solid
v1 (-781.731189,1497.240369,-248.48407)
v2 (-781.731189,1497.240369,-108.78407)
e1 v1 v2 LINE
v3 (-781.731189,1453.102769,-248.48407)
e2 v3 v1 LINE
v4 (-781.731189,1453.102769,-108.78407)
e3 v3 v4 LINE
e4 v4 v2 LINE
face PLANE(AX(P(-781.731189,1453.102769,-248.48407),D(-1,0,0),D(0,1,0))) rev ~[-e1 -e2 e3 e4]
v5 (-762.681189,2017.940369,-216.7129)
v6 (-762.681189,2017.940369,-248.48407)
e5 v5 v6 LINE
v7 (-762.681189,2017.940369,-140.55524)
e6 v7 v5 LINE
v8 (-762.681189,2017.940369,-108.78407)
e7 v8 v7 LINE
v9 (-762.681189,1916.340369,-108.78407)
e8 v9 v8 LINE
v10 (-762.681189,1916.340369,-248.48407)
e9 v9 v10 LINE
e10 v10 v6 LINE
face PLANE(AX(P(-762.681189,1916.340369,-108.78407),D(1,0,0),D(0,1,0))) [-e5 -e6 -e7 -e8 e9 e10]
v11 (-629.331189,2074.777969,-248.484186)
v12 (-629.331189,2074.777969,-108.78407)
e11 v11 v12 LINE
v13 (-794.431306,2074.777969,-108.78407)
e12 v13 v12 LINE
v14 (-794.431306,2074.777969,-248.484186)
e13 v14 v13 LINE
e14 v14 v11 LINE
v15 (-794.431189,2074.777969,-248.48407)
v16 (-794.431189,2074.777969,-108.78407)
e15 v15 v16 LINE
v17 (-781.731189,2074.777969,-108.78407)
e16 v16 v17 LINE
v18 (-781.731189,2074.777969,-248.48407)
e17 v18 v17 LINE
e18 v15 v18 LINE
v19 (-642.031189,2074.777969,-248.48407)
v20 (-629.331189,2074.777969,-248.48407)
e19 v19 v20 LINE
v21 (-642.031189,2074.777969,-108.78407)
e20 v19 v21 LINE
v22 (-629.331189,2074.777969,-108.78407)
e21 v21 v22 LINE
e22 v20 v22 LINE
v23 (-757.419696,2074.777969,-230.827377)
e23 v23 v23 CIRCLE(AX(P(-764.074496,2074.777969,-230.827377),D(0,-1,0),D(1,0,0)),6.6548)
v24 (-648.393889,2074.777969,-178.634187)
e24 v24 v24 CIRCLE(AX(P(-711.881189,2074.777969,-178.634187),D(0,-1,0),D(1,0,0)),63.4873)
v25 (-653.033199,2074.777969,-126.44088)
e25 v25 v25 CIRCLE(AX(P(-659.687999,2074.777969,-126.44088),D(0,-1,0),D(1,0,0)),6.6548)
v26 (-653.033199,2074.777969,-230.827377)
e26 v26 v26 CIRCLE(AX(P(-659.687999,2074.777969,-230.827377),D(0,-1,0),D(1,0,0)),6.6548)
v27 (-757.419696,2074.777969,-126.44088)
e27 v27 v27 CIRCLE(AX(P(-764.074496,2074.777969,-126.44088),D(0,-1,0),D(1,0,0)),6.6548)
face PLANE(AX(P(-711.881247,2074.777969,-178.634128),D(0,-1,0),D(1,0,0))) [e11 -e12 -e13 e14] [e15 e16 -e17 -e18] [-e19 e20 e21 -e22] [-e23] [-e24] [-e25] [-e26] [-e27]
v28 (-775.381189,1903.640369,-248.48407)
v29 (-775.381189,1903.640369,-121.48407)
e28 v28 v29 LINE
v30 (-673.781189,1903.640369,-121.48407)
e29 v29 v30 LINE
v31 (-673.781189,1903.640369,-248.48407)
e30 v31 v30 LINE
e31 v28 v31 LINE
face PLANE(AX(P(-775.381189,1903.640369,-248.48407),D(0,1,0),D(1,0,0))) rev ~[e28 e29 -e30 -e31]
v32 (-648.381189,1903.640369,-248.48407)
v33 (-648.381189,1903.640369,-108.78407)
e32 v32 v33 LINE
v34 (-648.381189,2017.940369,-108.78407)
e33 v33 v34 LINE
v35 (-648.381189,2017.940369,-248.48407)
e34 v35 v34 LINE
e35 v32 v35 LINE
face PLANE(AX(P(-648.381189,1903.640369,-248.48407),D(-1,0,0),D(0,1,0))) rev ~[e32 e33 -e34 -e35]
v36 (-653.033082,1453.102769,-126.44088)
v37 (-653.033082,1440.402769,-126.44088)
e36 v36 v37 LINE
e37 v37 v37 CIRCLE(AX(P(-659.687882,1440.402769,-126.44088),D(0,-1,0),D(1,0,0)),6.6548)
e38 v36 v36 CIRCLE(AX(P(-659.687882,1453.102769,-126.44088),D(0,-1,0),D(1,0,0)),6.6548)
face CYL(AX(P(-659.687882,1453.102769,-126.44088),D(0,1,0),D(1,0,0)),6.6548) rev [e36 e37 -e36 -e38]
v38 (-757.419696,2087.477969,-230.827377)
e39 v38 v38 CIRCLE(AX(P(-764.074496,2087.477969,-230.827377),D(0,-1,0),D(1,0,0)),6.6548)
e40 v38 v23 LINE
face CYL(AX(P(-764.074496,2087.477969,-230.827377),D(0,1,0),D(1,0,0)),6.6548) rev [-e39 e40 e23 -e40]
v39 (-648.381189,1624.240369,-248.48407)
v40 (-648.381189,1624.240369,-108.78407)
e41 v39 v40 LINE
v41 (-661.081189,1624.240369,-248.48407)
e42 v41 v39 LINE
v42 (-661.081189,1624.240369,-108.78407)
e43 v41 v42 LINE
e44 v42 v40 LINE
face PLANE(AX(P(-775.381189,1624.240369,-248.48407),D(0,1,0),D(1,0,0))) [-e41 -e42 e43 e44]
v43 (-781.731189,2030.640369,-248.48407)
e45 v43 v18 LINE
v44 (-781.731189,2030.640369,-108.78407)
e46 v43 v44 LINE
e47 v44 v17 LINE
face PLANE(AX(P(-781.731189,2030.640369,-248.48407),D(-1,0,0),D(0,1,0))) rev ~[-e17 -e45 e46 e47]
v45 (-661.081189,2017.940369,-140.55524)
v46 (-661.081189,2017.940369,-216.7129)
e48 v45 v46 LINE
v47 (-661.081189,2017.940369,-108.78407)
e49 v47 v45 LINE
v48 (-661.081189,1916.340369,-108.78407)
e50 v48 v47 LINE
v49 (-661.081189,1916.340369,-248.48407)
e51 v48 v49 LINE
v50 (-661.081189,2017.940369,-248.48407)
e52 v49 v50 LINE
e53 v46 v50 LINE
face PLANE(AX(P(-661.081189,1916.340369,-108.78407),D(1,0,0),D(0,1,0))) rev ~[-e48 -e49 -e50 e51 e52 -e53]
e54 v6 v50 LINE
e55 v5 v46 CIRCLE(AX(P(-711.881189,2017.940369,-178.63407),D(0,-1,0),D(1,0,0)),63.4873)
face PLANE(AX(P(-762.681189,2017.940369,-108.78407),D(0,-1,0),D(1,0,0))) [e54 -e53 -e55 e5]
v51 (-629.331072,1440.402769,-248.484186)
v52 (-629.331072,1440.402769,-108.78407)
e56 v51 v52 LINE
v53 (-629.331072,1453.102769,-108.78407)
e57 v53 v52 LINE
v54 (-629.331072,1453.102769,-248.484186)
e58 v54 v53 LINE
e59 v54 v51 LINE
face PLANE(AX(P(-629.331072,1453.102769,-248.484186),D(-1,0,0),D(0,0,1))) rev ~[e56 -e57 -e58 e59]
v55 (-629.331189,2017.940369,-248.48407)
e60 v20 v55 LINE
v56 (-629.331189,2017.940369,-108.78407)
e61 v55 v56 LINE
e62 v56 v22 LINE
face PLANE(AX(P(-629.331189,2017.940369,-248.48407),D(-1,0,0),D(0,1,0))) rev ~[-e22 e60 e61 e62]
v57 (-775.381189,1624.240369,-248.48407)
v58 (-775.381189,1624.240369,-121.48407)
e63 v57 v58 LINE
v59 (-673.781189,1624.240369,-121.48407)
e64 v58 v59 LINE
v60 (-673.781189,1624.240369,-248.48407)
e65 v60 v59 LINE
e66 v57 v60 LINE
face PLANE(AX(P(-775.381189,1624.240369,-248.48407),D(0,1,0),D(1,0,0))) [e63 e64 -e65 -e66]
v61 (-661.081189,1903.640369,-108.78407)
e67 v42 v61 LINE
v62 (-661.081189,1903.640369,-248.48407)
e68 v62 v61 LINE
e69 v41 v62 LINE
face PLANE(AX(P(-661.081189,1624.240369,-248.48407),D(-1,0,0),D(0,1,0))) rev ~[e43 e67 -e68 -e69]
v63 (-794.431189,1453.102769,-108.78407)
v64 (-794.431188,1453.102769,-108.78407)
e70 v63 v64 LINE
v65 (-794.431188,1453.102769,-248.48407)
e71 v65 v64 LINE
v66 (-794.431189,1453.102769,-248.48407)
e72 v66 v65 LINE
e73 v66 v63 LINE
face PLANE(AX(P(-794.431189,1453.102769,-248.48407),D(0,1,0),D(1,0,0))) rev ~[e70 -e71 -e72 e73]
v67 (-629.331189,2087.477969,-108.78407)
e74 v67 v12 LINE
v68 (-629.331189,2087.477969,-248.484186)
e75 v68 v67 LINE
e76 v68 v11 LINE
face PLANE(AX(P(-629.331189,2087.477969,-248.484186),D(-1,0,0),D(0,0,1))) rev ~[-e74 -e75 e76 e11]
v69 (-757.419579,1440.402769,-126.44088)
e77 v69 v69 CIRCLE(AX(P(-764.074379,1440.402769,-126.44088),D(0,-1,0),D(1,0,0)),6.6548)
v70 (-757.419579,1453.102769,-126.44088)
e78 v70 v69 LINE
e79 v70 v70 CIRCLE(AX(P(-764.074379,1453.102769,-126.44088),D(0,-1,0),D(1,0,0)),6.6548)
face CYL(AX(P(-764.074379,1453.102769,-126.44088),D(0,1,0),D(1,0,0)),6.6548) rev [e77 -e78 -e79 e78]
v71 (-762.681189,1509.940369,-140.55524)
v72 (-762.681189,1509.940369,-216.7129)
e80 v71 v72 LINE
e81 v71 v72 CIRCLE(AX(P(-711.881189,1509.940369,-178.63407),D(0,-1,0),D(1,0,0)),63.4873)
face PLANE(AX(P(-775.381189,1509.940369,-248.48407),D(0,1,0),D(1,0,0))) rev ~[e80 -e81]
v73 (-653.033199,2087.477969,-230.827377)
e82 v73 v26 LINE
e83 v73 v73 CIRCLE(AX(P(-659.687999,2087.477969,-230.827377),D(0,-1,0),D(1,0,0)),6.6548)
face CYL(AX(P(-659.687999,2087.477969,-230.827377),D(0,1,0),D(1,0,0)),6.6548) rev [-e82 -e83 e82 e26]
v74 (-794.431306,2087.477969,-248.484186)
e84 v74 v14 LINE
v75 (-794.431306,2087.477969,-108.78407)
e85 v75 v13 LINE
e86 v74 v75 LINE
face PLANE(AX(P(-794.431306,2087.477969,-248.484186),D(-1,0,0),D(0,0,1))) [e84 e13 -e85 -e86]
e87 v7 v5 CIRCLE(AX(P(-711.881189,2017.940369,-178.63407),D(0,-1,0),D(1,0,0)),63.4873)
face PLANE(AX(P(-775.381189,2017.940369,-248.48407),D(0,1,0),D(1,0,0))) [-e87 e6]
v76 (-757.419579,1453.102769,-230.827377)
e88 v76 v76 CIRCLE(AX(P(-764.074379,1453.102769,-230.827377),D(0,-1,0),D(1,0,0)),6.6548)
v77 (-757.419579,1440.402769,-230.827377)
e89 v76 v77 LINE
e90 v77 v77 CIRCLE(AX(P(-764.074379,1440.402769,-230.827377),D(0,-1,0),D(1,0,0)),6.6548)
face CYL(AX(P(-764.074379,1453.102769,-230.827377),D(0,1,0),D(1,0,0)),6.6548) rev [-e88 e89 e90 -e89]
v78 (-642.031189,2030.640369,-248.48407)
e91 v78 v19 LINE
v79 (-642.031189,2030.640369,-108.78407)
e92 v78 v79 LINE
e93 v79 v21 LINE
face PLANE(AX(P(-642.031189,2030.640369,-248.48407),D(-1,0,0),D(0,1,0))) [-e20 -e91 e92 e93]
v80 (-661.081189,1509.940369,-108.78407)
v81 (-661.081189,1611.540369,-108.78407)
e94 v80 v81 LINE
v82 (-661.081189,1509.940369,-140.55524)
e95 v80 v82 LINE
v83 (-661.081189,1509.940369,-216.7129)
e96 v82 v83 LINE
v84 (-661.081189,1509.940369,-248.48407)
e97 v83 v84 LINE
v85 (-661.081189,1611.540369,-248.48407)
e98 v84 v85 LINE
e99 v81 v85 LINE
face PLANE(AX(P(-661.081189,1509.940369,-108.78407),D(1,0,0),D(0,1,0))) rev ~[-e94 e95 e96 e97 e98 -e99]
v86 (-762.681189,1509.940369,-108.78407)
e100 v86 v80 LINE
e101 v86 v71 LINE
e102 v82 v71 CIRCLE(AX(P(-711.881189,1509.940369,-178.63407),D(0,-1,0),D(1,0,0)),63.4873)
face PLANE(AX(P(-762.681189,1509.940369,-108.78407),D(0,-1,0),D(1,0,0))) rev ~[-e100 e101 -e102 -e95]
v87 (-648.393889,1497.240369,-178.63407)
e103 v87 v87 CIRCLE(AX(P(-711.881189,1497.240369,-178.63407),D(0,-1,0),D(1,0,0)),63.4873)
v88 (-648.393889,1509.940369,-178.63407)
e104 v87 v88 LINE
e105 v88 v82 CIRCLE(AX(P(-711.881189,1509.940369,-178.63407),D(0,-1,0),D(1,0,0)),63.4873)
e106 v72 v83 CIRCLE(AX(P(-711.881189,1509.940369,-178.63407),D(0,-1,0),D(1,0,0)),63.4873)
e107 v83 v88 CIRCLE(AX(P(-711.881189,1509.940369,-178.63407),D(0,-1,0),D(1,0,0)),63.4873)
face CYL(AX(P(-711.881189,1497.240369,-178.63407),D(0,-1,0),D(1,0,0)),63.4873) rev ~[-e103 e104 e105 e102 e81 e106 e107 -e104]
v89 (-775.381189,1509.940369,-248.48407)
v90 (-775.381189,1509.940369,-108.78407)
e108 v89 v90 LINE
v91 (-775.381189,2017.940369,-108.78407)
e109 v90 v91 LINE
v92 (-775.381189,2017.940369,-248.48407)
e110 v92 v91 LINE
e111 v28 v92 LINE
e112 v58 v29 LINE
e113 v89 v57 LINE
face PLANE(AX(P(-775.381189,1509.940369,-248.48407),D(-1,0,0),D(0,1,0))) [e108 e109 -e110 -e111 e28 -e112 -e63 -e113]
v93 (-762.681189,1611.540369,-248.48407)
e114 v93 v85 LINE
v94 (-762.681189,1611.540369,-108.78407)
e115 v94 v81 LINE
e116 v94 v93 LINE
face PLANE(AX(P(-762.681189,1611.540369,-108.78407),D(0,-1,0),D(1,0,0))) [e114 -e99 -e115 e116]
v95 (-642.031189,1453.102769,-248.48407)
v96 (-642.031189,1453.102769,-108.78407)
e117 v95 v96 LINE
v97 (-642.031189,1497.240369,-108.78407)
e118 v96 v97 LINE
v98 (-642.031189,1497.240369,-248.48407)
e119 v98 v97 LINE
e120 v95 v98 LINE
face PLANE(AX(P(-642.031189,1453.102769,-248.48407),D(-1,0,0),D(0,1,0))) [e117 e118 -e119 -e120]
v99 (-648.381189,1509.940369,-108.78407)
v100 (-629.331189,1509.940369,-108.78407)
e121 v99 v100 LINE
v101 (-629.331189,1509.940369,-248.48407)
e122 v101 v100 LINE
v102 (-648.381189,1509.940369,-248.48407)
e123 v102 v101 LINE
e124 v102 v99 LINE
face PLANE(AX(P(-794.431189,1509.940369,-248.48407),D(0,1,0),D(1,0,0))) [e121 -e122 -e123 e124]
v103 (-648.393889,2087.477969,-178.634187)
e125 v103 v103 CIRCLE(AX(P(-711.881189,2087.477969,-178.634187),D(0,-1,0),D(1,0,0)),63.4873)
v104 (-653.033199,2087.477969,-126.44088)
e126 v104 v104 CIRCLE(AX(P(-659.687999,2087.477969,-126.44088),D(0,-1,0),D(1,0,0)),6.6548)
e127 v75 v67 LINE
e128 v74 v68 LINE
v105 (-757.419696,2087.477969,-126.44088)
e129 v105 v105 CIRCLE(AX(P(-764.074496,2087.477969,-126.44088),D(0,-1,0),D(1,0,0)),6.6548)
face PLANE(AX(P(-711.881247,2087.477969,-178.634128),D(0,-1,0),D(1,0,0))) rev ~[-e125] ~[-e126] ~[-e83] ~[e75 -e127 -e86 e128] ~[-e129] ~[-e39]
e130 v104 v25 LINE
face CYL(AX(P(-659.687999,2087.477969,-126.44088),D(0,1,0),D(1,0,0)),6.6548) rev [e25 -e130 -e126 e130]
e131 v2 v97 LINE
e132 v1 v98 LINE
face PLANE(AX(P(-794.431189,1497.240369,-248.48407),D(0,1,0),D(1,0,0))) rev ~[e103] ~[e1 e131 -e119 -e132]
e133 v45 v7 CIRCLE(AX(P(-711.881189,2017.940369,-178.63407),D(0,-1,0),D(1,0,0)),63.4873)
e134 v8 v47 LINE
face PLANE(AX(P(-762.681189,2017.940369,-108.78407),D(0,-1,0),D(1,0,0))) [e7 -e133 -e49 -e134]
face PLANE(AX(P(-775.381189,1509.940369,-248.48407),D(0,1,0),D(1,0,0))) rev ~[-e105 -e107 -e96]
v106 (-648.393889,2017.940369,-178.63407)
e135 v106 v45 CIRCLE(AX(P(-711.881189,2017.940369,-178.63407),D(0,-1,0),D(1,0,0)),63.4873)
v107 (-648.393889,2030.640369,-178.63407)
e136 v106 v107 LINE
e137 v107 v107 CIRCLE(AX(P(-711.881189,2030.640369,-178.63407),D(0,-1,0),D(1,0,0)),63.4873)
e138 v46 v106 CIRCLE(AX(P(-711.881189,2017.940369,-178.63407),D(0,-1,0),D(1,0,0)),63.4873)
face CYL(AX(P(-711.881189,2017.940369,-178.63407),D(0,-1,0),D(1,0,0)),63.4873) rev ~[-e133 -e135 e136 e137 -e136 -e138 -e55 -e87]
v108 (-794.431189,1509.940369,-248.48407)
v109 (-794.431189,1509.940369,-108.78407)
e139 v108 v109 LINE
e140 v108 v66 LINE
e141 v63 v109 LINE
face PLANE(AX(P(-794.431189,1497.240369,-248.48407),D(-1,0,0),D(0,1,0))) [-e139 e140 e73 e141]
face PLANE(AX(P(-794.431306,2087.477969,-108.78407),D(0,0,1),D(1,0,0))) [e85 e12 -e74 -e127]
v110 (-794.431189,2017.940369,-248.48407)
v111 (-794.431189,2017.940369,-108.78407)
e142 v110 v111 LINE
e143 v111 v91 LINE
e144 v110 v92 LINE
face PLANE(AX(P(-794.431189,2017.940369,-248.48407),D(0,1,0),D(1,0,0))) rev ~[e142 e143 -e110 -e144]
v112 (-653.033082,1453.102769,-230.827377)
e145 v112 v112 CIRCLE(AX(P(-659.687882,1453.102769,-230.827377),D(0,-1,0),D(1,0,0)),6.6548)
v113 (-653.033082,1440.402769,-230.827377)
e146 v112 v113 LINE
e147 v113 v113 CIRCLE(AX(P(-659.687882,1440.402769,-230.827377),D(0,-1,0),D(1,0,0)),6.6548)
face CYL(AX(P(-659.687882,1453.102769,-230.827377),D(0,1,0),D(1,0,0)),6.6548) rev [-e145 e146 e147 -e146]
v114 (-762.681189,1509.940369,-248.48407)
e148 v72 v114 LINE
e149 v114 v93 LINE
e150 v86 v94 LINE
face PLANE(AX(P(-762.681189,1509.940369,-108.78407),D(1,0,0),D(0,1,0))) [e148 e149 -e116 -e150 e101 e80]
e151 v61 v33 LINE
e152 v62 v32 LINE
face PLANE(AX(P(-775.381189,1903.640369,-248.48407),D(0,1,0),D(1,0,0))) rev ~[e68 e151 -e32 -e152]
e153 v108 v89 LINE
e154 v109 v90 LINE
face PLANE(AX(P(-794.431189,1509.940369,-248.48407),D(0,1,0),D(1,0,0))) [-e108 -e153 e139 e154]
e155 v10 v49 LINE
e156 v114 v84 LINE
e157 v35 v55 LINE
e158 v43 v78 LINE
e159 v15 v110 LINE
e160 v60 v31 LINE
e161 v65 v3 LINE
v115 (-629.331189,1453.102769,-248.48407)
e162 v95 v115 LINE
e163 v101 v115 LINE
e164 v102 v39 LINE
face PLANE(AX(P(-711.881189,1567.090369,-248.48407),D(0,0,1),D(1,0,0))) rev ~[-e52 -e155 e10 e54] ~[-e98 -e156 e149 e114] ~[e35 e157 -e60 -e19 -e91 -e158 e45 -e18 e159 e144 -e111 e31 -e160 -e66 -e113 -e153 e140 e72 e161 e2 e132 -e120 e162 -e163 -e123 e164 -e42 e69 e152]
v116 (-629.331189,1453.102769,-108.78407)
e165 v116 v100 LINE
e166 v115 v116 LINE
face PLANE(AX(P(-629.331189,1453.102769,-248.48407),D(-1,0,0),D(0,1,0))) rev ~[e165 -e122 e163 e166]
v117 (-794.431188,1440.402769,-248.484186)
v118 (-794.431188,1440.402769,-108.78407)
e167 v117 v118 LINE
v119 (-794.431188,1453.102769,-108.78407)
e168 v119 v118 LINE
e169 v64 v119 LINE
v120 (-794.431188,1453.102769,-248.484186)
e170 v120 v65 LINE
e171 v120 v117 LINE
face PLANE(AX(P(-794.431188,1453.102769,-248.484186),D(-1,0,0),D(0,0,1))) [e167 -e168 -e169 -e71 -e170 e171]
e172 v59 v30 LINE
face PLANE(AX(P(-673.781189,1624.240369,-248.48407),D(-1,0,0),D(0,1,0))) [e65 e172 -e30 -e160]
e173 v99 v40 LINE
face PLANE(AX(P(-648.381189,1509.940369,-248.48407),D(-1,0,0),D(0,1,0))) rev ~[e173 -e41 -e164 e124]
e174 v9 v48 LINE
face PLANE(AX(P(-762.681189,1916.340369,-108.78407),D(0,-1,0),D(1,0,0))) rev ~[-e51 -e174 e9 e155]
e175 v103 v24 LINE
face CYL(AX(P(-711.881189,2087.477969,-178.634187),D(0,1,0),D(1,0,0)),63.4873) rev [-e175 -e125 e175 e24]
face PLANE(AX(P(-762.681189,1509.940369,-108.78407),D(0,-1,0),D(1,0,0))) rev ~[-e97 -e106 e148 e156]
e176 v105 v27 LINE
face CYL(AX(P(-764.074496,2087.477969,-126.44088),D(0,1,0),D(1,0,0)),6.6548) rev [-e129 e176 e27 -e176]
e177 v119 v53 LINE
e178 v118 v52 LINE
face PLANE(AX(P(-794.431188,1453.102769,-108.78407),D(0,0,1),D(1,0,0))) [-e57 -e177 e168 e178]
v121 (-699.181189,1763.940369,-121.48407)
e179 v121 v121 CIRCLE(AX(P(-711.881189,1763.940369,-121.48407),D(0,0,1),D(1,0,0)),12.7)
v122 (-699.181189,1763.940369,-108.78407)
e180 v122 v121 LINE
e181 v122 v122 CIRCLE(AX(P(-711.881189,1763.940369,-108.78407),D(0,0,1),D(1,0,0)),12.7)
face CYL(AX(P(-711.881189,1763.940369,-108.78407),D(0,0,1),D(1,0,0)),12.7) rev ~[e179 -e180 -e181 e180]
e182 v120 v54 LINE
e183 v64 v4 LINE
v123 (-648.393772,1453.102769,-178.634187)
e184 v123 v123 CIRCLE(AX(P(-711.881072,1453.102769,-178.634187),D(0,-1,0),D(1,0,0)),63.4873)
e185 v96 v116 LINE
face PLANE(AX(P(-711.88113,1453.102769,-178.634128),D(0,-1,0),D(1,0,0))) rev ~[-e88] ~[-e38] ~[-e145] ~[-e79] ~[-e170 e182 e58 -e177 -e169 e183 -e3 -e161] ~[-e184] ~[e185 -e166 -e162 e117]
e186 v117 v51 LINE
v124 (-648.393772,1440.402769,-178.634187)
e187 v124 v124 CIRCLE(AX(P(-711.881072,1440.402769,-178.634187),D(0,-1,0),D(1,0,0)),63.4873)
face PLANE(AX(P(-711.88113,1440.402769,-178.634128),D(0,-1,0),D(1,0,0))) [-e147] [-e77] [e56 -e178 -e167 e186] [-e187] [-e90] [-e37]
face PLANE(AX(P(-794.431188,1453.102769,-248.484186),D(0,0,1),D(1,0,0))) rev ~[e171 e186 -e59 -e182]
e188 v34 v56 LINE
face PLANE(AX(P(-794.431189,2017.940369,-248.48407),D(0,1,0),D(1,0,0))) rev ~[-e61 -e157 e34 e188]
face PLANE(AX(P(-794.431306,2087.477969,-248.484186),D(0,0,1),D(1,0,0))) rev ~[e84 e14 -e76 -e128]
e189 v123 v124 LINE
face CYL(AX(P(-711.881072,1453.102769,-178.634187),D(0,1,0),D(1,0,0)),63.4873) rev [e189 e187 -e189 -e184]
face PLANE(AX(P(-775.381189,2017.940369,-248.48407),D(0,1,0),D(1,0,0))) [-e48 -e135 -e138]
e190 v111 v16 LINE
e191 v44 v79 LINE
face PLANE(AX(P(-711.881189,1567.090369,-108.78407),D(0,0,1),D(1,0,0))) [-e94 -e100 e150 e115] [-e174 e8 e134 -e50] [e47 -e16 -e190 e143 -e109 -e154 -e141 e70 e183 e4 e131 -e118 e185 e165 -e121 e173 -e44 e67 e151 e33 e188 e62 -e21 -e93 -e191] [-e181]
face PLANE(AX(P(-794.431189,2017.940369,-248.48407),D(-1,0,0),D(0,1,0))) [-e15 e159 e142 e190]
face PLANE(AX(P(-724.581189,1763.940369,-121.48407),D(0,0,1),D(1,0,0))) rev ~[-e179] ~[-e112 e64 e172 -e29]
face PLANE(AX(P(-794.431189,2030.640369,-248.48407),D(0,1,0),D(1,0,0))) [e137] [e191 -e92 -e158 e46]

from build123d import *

# Parameters (mm, degrees)
BOX003_W                 = 101.6
BOX003_H                 = 279.4
BOX003_DEPTH             = 12.7
BOX009_W                 = 12.7
BOX009_H                 = 44.1376
BOX009_DEPTH             = 139.7
BOX006_W                 = 12.7
BOX006_H                 = 44.1376
BOX006_DEPTH             = 139.7
BOX007_W                 = 12.7
BOX007_H                 = 44.1376
BOX007_DEPTH             = 139.7
SKETCH002_W              = 165.100117
SKETCH002_H              = 139.700117
SKETCH002_R              = 6.6548
SKETCH002_R_2            = 63.4873
PAD_DEPTH                = 12.7
CLONE001_PLACEMENT_ANGLE = 180
CLONE_PLACEMENT_ANGLE    = 180
BOX010_W                 = 165.1
BOX010_H                 = 12.7
BOX010_DEPTH             = 139.7
SKETCH004_R              = 63.4873
POCKET_DEPTH             = 12.7
BOX008_W                 = 12.7
BOX008_H                 = 44.1376
BOX008_DEPTH             = 139.7
BOX_W                    = 127
BOX_H                    = 114.3
BOX_DEPTH                = 139.7
BOX002_W                 = 12.7
BOX002_H                 = 279.4
BOX002_DEPTH             = 139.7
SKETCH003_R              = 12.7
SKETCH003_W              = 101.6
SKETCH003_H              = 101.6
POCKET003005_DEPTH       = 139.7


with BuildPart() as cube003:
    # Box003 → Box003 (new body)
    with BuildSketch(Plane(origin=(-224.636743, 494.971814, 58.555664), x_dir=(1, 0, 0), z_dir=(0, 0, 1))):
        with Locations((50.8, 139.7)):
            Rectangle(BOX003_W, BOX003_H)
    extrude(amount=BOX003_DEPTH)


with BuildPart() as cube009:
    # Box009 → Box009 (new body)
    with BuildSketch(Plane(origin=(-91.286743, 901.371814, -68.444336), x_dir=(1, 0, 0), z_dir=(0, 0, 1))):
        with Locations((6.35, 22.0688)):
            Rectangle(BOX009_W, BOX009_H)
    extrude(amount=BOX009_DEPTH)


with BuildPart() as cube006:
    # Box006 → Box006 (new body)
    with BuildSketch(Plane(origin=(-243.686743, 323.834214, -68.444336), x_dir=(1, 0, 0), z_dir=(0, 0, 1))):
        with Locations((6.35, 22.0688)):
            Rectangle(BOX006_W, BOX006_H)
    extrude(amount=BOX006_DEPTH)


with BuildPart() as cube007:
    # Box007 → Box007 (new body)
    with BuildSketch(Plane(origin=(-243.686743, 901.371814, -68.444336), x_dir=(1, 0, 0), z_dir=(0, 0, 1))):
        with Locations((6.35, 22.0688)):
            Rectangle(BOX007_W, BOX007_H)
    extrude(amount=BOX007_DEPTH)


with BuildPart() as pad:
    # Sketch002 → Pad (new body)
    with BuildSketch(Plane(origin=(0, 37.338, 0), x_dir=(-1, 0, 0), z_dir=(0, 1, 0))):
        with Locations((-69.215058, 89.86448)):
            Rectangle(SKETCH002_W, SKETCH002_H)
        with Locations((-121.408307, 142.057728)):
            Circle(SKETCH002_R, mode=Mode.SUBTRACT)
        with Locations((-17.02181, 142.057728)):
            Circle(SKETCH002_R, mode=Mode.SUBTRACT)
        with Locations((-17.02181, 37.671231)):
            Circle(SKETCH002_R, mode=Mode.SUBTRACT)
        with Locations((-121.408307, 37.671231)):
            Circle(SKETCH002_R, mode=Mode.SUBTRACT)
        with Locations((-69.215, 89.864421)):
            Circle(SKETCH002_R_2, mode=Mode.SUBTRACT)
    extrude(amount=PAD_DEPTH)


with BuildPart() as clone_of_pad001:
    # Clone001 base: copy of Pad
    add(pad.part)


with BuildPart() as clone_of_pad001_1:
    # Clone001 placement: moved
    add(clone_of_pad001.part.moved(Location((-91.921743, 995.547414, -88.458874))).rotate(Axis((-91.921743, 995.547414, -88.458874), (0, 0, 1)), CLONE001_PLACEMENT_ANGLE))


with BuildPart() as clone_of_pad:
    # Clone base: copy of Pad
    add(pad.part)


with BuildPart() as clone_of_pad_1:
    # Clone placement: moved
    add(clone_of_pad.part.moved(Location((-91.921626, 361.172214, -88.458874))).rotate(Axis((-91.921626, 361.172214, -88.458874), (0, 0, 1)), CLONE_PLACEMENT_ANGLE))


with BuildPart() as pocket:
    # Box010 → Box010 (new body)
    with BuildSketch(Plane(origin=(-102.435181, 88.203278, -436.376007), x_dir=(1, 0, 0), z_dir=(0, 0, 1))):
        with Locations((82.55, 6.35)):
            Rectangle(BOX010_W, BOX010_H)
    extrude(amount=BOX010_DEPTH)

    # Sketch004 → Pocket (cut)
    with BuildSketch(Plane(origin=(-102.435181, 88.203278, -436.376007), x_dir=(1, 0, 0), z_dir=(0, -1, 0))):
        with Locations((82.55, 69.85)):
            Circle(SKETCH004_R)
    extrude(amount=-POCKET_DEPTH, mode=Mode.SUBTRACT)


with BuildPart() as clone_of_pocket003005005:
    # Clone006 base: copy of Pocket
    add(pocket.part)


with BuildPart() as clone_of_pocket003005005_1:
    # Clone006 placement: moved
    add(clone_of_pocket003005005.part.moved(Location((-141.251562, 800.468536, 367.931671))))


with BuildPart() as clone_of_pocket:
    # Clone005 base: copy of Pocket
    add(pocket.part)


with BuildPart() as clone_of_pocket_1:
    # Clone005 placement: moved
    add(clone_of_pocket.part.moved(Location((-141.251562, 279.768536, 367.931671))))


with BuildPart() as cube008:
    # Box008 → Box008 (new body)
    with BuildSketch(Plane(origin=(-91.286743, 323.834214, -68.444336), x_dir=(1, 0, 0), z_dir=(0, 0, 1))):
        with Locations((6.35, 22.0688)):
            Rectangle(BOX008_W, BOX008_H)
    extrude(amount=BOX008_DEPTH)


with BuildPart() as cube:
    # Box → Box (new body)
    with BuildSketch(Plane(origin=(-224.636743, 380.671814, -68.444336), x_dir=(1, 0, 0), z_dir=(0, 0, 1))):
        with Locations((63.5, 57.15)):
            Rectangle(BOX_W, BOX_H)
    extrude(amount=BOX_DEPTH)


with BuildPart() as clone_of_cube:
    # Clone008 base: copy of Cube
    add(cube.part)


with BuildPart() as clone_of_cube_1:
    # Clone008 placement: moved
    add(clone_of_cube.part.moved(Location((0, 393.7, 0))))


with BuildPart() as pocket003005:
    # Box002 → Box002 (new body)
    with BuildSketch(Plane(origin=(-123.036743, 494.971814, -68.444336), x_dir=(1, 0, 0), z_dir=(0, 0, 1))):
        with Locations((6.35, 139.7)):
            Rectangle(BOX002_W, BOX002_H)
    extrude(amount=BOX002_DEPTH)

    # Fusion: union Cube003, Cube009, Cube006, Cube007, Clone of Pad001, Clone of Pad, Clone of Pocket003005005, Clone of Pocket, Cube008, Clone of Cube, Cube
    add(cube003.part)
    add(cube009.part)
    add(cube006.part)
    add(cube007.part)
    add(clone_of_pad001_1.part)
    add(clone_of_pad_1.part)
    add(clone_of_pocket003005005_1.part)
    add(clone_of_pocket_1.part)
    add(cube008.part)
    add(clone_of_cube_1.part)
    add(cube.part)


with BuildPart() as pocket003005_1:
    # Clone009 placement: moved
    add(pocket003005.part.moved(Location((-550.744446, 1129.268555, -180.039734))))

    # Sketch003 → Pocket003005 (cut)
    with BuildSketch(Plane(origin=(-550.744446, 1129.268555, -108.78407), x_dir=(1, 0, 0), z_dir=(0, 0, 1))):
        with Locations((-161.136743, 634.671814)):
            Circle(SKETCH003_R)
        with Locations((-161.136743, 837.871814)):
            Rectangle(SKETCH003_W, SKETCH003_H)
        with Locations((-161.136743, 431.471814)):
            Rectangle(SKETCH003_W, SKETCH003_H)
    extrude(amount=-POCKET003005_DEPTH, mode=Mode.SUBTRACT)


solid = pocket003005_1.part
